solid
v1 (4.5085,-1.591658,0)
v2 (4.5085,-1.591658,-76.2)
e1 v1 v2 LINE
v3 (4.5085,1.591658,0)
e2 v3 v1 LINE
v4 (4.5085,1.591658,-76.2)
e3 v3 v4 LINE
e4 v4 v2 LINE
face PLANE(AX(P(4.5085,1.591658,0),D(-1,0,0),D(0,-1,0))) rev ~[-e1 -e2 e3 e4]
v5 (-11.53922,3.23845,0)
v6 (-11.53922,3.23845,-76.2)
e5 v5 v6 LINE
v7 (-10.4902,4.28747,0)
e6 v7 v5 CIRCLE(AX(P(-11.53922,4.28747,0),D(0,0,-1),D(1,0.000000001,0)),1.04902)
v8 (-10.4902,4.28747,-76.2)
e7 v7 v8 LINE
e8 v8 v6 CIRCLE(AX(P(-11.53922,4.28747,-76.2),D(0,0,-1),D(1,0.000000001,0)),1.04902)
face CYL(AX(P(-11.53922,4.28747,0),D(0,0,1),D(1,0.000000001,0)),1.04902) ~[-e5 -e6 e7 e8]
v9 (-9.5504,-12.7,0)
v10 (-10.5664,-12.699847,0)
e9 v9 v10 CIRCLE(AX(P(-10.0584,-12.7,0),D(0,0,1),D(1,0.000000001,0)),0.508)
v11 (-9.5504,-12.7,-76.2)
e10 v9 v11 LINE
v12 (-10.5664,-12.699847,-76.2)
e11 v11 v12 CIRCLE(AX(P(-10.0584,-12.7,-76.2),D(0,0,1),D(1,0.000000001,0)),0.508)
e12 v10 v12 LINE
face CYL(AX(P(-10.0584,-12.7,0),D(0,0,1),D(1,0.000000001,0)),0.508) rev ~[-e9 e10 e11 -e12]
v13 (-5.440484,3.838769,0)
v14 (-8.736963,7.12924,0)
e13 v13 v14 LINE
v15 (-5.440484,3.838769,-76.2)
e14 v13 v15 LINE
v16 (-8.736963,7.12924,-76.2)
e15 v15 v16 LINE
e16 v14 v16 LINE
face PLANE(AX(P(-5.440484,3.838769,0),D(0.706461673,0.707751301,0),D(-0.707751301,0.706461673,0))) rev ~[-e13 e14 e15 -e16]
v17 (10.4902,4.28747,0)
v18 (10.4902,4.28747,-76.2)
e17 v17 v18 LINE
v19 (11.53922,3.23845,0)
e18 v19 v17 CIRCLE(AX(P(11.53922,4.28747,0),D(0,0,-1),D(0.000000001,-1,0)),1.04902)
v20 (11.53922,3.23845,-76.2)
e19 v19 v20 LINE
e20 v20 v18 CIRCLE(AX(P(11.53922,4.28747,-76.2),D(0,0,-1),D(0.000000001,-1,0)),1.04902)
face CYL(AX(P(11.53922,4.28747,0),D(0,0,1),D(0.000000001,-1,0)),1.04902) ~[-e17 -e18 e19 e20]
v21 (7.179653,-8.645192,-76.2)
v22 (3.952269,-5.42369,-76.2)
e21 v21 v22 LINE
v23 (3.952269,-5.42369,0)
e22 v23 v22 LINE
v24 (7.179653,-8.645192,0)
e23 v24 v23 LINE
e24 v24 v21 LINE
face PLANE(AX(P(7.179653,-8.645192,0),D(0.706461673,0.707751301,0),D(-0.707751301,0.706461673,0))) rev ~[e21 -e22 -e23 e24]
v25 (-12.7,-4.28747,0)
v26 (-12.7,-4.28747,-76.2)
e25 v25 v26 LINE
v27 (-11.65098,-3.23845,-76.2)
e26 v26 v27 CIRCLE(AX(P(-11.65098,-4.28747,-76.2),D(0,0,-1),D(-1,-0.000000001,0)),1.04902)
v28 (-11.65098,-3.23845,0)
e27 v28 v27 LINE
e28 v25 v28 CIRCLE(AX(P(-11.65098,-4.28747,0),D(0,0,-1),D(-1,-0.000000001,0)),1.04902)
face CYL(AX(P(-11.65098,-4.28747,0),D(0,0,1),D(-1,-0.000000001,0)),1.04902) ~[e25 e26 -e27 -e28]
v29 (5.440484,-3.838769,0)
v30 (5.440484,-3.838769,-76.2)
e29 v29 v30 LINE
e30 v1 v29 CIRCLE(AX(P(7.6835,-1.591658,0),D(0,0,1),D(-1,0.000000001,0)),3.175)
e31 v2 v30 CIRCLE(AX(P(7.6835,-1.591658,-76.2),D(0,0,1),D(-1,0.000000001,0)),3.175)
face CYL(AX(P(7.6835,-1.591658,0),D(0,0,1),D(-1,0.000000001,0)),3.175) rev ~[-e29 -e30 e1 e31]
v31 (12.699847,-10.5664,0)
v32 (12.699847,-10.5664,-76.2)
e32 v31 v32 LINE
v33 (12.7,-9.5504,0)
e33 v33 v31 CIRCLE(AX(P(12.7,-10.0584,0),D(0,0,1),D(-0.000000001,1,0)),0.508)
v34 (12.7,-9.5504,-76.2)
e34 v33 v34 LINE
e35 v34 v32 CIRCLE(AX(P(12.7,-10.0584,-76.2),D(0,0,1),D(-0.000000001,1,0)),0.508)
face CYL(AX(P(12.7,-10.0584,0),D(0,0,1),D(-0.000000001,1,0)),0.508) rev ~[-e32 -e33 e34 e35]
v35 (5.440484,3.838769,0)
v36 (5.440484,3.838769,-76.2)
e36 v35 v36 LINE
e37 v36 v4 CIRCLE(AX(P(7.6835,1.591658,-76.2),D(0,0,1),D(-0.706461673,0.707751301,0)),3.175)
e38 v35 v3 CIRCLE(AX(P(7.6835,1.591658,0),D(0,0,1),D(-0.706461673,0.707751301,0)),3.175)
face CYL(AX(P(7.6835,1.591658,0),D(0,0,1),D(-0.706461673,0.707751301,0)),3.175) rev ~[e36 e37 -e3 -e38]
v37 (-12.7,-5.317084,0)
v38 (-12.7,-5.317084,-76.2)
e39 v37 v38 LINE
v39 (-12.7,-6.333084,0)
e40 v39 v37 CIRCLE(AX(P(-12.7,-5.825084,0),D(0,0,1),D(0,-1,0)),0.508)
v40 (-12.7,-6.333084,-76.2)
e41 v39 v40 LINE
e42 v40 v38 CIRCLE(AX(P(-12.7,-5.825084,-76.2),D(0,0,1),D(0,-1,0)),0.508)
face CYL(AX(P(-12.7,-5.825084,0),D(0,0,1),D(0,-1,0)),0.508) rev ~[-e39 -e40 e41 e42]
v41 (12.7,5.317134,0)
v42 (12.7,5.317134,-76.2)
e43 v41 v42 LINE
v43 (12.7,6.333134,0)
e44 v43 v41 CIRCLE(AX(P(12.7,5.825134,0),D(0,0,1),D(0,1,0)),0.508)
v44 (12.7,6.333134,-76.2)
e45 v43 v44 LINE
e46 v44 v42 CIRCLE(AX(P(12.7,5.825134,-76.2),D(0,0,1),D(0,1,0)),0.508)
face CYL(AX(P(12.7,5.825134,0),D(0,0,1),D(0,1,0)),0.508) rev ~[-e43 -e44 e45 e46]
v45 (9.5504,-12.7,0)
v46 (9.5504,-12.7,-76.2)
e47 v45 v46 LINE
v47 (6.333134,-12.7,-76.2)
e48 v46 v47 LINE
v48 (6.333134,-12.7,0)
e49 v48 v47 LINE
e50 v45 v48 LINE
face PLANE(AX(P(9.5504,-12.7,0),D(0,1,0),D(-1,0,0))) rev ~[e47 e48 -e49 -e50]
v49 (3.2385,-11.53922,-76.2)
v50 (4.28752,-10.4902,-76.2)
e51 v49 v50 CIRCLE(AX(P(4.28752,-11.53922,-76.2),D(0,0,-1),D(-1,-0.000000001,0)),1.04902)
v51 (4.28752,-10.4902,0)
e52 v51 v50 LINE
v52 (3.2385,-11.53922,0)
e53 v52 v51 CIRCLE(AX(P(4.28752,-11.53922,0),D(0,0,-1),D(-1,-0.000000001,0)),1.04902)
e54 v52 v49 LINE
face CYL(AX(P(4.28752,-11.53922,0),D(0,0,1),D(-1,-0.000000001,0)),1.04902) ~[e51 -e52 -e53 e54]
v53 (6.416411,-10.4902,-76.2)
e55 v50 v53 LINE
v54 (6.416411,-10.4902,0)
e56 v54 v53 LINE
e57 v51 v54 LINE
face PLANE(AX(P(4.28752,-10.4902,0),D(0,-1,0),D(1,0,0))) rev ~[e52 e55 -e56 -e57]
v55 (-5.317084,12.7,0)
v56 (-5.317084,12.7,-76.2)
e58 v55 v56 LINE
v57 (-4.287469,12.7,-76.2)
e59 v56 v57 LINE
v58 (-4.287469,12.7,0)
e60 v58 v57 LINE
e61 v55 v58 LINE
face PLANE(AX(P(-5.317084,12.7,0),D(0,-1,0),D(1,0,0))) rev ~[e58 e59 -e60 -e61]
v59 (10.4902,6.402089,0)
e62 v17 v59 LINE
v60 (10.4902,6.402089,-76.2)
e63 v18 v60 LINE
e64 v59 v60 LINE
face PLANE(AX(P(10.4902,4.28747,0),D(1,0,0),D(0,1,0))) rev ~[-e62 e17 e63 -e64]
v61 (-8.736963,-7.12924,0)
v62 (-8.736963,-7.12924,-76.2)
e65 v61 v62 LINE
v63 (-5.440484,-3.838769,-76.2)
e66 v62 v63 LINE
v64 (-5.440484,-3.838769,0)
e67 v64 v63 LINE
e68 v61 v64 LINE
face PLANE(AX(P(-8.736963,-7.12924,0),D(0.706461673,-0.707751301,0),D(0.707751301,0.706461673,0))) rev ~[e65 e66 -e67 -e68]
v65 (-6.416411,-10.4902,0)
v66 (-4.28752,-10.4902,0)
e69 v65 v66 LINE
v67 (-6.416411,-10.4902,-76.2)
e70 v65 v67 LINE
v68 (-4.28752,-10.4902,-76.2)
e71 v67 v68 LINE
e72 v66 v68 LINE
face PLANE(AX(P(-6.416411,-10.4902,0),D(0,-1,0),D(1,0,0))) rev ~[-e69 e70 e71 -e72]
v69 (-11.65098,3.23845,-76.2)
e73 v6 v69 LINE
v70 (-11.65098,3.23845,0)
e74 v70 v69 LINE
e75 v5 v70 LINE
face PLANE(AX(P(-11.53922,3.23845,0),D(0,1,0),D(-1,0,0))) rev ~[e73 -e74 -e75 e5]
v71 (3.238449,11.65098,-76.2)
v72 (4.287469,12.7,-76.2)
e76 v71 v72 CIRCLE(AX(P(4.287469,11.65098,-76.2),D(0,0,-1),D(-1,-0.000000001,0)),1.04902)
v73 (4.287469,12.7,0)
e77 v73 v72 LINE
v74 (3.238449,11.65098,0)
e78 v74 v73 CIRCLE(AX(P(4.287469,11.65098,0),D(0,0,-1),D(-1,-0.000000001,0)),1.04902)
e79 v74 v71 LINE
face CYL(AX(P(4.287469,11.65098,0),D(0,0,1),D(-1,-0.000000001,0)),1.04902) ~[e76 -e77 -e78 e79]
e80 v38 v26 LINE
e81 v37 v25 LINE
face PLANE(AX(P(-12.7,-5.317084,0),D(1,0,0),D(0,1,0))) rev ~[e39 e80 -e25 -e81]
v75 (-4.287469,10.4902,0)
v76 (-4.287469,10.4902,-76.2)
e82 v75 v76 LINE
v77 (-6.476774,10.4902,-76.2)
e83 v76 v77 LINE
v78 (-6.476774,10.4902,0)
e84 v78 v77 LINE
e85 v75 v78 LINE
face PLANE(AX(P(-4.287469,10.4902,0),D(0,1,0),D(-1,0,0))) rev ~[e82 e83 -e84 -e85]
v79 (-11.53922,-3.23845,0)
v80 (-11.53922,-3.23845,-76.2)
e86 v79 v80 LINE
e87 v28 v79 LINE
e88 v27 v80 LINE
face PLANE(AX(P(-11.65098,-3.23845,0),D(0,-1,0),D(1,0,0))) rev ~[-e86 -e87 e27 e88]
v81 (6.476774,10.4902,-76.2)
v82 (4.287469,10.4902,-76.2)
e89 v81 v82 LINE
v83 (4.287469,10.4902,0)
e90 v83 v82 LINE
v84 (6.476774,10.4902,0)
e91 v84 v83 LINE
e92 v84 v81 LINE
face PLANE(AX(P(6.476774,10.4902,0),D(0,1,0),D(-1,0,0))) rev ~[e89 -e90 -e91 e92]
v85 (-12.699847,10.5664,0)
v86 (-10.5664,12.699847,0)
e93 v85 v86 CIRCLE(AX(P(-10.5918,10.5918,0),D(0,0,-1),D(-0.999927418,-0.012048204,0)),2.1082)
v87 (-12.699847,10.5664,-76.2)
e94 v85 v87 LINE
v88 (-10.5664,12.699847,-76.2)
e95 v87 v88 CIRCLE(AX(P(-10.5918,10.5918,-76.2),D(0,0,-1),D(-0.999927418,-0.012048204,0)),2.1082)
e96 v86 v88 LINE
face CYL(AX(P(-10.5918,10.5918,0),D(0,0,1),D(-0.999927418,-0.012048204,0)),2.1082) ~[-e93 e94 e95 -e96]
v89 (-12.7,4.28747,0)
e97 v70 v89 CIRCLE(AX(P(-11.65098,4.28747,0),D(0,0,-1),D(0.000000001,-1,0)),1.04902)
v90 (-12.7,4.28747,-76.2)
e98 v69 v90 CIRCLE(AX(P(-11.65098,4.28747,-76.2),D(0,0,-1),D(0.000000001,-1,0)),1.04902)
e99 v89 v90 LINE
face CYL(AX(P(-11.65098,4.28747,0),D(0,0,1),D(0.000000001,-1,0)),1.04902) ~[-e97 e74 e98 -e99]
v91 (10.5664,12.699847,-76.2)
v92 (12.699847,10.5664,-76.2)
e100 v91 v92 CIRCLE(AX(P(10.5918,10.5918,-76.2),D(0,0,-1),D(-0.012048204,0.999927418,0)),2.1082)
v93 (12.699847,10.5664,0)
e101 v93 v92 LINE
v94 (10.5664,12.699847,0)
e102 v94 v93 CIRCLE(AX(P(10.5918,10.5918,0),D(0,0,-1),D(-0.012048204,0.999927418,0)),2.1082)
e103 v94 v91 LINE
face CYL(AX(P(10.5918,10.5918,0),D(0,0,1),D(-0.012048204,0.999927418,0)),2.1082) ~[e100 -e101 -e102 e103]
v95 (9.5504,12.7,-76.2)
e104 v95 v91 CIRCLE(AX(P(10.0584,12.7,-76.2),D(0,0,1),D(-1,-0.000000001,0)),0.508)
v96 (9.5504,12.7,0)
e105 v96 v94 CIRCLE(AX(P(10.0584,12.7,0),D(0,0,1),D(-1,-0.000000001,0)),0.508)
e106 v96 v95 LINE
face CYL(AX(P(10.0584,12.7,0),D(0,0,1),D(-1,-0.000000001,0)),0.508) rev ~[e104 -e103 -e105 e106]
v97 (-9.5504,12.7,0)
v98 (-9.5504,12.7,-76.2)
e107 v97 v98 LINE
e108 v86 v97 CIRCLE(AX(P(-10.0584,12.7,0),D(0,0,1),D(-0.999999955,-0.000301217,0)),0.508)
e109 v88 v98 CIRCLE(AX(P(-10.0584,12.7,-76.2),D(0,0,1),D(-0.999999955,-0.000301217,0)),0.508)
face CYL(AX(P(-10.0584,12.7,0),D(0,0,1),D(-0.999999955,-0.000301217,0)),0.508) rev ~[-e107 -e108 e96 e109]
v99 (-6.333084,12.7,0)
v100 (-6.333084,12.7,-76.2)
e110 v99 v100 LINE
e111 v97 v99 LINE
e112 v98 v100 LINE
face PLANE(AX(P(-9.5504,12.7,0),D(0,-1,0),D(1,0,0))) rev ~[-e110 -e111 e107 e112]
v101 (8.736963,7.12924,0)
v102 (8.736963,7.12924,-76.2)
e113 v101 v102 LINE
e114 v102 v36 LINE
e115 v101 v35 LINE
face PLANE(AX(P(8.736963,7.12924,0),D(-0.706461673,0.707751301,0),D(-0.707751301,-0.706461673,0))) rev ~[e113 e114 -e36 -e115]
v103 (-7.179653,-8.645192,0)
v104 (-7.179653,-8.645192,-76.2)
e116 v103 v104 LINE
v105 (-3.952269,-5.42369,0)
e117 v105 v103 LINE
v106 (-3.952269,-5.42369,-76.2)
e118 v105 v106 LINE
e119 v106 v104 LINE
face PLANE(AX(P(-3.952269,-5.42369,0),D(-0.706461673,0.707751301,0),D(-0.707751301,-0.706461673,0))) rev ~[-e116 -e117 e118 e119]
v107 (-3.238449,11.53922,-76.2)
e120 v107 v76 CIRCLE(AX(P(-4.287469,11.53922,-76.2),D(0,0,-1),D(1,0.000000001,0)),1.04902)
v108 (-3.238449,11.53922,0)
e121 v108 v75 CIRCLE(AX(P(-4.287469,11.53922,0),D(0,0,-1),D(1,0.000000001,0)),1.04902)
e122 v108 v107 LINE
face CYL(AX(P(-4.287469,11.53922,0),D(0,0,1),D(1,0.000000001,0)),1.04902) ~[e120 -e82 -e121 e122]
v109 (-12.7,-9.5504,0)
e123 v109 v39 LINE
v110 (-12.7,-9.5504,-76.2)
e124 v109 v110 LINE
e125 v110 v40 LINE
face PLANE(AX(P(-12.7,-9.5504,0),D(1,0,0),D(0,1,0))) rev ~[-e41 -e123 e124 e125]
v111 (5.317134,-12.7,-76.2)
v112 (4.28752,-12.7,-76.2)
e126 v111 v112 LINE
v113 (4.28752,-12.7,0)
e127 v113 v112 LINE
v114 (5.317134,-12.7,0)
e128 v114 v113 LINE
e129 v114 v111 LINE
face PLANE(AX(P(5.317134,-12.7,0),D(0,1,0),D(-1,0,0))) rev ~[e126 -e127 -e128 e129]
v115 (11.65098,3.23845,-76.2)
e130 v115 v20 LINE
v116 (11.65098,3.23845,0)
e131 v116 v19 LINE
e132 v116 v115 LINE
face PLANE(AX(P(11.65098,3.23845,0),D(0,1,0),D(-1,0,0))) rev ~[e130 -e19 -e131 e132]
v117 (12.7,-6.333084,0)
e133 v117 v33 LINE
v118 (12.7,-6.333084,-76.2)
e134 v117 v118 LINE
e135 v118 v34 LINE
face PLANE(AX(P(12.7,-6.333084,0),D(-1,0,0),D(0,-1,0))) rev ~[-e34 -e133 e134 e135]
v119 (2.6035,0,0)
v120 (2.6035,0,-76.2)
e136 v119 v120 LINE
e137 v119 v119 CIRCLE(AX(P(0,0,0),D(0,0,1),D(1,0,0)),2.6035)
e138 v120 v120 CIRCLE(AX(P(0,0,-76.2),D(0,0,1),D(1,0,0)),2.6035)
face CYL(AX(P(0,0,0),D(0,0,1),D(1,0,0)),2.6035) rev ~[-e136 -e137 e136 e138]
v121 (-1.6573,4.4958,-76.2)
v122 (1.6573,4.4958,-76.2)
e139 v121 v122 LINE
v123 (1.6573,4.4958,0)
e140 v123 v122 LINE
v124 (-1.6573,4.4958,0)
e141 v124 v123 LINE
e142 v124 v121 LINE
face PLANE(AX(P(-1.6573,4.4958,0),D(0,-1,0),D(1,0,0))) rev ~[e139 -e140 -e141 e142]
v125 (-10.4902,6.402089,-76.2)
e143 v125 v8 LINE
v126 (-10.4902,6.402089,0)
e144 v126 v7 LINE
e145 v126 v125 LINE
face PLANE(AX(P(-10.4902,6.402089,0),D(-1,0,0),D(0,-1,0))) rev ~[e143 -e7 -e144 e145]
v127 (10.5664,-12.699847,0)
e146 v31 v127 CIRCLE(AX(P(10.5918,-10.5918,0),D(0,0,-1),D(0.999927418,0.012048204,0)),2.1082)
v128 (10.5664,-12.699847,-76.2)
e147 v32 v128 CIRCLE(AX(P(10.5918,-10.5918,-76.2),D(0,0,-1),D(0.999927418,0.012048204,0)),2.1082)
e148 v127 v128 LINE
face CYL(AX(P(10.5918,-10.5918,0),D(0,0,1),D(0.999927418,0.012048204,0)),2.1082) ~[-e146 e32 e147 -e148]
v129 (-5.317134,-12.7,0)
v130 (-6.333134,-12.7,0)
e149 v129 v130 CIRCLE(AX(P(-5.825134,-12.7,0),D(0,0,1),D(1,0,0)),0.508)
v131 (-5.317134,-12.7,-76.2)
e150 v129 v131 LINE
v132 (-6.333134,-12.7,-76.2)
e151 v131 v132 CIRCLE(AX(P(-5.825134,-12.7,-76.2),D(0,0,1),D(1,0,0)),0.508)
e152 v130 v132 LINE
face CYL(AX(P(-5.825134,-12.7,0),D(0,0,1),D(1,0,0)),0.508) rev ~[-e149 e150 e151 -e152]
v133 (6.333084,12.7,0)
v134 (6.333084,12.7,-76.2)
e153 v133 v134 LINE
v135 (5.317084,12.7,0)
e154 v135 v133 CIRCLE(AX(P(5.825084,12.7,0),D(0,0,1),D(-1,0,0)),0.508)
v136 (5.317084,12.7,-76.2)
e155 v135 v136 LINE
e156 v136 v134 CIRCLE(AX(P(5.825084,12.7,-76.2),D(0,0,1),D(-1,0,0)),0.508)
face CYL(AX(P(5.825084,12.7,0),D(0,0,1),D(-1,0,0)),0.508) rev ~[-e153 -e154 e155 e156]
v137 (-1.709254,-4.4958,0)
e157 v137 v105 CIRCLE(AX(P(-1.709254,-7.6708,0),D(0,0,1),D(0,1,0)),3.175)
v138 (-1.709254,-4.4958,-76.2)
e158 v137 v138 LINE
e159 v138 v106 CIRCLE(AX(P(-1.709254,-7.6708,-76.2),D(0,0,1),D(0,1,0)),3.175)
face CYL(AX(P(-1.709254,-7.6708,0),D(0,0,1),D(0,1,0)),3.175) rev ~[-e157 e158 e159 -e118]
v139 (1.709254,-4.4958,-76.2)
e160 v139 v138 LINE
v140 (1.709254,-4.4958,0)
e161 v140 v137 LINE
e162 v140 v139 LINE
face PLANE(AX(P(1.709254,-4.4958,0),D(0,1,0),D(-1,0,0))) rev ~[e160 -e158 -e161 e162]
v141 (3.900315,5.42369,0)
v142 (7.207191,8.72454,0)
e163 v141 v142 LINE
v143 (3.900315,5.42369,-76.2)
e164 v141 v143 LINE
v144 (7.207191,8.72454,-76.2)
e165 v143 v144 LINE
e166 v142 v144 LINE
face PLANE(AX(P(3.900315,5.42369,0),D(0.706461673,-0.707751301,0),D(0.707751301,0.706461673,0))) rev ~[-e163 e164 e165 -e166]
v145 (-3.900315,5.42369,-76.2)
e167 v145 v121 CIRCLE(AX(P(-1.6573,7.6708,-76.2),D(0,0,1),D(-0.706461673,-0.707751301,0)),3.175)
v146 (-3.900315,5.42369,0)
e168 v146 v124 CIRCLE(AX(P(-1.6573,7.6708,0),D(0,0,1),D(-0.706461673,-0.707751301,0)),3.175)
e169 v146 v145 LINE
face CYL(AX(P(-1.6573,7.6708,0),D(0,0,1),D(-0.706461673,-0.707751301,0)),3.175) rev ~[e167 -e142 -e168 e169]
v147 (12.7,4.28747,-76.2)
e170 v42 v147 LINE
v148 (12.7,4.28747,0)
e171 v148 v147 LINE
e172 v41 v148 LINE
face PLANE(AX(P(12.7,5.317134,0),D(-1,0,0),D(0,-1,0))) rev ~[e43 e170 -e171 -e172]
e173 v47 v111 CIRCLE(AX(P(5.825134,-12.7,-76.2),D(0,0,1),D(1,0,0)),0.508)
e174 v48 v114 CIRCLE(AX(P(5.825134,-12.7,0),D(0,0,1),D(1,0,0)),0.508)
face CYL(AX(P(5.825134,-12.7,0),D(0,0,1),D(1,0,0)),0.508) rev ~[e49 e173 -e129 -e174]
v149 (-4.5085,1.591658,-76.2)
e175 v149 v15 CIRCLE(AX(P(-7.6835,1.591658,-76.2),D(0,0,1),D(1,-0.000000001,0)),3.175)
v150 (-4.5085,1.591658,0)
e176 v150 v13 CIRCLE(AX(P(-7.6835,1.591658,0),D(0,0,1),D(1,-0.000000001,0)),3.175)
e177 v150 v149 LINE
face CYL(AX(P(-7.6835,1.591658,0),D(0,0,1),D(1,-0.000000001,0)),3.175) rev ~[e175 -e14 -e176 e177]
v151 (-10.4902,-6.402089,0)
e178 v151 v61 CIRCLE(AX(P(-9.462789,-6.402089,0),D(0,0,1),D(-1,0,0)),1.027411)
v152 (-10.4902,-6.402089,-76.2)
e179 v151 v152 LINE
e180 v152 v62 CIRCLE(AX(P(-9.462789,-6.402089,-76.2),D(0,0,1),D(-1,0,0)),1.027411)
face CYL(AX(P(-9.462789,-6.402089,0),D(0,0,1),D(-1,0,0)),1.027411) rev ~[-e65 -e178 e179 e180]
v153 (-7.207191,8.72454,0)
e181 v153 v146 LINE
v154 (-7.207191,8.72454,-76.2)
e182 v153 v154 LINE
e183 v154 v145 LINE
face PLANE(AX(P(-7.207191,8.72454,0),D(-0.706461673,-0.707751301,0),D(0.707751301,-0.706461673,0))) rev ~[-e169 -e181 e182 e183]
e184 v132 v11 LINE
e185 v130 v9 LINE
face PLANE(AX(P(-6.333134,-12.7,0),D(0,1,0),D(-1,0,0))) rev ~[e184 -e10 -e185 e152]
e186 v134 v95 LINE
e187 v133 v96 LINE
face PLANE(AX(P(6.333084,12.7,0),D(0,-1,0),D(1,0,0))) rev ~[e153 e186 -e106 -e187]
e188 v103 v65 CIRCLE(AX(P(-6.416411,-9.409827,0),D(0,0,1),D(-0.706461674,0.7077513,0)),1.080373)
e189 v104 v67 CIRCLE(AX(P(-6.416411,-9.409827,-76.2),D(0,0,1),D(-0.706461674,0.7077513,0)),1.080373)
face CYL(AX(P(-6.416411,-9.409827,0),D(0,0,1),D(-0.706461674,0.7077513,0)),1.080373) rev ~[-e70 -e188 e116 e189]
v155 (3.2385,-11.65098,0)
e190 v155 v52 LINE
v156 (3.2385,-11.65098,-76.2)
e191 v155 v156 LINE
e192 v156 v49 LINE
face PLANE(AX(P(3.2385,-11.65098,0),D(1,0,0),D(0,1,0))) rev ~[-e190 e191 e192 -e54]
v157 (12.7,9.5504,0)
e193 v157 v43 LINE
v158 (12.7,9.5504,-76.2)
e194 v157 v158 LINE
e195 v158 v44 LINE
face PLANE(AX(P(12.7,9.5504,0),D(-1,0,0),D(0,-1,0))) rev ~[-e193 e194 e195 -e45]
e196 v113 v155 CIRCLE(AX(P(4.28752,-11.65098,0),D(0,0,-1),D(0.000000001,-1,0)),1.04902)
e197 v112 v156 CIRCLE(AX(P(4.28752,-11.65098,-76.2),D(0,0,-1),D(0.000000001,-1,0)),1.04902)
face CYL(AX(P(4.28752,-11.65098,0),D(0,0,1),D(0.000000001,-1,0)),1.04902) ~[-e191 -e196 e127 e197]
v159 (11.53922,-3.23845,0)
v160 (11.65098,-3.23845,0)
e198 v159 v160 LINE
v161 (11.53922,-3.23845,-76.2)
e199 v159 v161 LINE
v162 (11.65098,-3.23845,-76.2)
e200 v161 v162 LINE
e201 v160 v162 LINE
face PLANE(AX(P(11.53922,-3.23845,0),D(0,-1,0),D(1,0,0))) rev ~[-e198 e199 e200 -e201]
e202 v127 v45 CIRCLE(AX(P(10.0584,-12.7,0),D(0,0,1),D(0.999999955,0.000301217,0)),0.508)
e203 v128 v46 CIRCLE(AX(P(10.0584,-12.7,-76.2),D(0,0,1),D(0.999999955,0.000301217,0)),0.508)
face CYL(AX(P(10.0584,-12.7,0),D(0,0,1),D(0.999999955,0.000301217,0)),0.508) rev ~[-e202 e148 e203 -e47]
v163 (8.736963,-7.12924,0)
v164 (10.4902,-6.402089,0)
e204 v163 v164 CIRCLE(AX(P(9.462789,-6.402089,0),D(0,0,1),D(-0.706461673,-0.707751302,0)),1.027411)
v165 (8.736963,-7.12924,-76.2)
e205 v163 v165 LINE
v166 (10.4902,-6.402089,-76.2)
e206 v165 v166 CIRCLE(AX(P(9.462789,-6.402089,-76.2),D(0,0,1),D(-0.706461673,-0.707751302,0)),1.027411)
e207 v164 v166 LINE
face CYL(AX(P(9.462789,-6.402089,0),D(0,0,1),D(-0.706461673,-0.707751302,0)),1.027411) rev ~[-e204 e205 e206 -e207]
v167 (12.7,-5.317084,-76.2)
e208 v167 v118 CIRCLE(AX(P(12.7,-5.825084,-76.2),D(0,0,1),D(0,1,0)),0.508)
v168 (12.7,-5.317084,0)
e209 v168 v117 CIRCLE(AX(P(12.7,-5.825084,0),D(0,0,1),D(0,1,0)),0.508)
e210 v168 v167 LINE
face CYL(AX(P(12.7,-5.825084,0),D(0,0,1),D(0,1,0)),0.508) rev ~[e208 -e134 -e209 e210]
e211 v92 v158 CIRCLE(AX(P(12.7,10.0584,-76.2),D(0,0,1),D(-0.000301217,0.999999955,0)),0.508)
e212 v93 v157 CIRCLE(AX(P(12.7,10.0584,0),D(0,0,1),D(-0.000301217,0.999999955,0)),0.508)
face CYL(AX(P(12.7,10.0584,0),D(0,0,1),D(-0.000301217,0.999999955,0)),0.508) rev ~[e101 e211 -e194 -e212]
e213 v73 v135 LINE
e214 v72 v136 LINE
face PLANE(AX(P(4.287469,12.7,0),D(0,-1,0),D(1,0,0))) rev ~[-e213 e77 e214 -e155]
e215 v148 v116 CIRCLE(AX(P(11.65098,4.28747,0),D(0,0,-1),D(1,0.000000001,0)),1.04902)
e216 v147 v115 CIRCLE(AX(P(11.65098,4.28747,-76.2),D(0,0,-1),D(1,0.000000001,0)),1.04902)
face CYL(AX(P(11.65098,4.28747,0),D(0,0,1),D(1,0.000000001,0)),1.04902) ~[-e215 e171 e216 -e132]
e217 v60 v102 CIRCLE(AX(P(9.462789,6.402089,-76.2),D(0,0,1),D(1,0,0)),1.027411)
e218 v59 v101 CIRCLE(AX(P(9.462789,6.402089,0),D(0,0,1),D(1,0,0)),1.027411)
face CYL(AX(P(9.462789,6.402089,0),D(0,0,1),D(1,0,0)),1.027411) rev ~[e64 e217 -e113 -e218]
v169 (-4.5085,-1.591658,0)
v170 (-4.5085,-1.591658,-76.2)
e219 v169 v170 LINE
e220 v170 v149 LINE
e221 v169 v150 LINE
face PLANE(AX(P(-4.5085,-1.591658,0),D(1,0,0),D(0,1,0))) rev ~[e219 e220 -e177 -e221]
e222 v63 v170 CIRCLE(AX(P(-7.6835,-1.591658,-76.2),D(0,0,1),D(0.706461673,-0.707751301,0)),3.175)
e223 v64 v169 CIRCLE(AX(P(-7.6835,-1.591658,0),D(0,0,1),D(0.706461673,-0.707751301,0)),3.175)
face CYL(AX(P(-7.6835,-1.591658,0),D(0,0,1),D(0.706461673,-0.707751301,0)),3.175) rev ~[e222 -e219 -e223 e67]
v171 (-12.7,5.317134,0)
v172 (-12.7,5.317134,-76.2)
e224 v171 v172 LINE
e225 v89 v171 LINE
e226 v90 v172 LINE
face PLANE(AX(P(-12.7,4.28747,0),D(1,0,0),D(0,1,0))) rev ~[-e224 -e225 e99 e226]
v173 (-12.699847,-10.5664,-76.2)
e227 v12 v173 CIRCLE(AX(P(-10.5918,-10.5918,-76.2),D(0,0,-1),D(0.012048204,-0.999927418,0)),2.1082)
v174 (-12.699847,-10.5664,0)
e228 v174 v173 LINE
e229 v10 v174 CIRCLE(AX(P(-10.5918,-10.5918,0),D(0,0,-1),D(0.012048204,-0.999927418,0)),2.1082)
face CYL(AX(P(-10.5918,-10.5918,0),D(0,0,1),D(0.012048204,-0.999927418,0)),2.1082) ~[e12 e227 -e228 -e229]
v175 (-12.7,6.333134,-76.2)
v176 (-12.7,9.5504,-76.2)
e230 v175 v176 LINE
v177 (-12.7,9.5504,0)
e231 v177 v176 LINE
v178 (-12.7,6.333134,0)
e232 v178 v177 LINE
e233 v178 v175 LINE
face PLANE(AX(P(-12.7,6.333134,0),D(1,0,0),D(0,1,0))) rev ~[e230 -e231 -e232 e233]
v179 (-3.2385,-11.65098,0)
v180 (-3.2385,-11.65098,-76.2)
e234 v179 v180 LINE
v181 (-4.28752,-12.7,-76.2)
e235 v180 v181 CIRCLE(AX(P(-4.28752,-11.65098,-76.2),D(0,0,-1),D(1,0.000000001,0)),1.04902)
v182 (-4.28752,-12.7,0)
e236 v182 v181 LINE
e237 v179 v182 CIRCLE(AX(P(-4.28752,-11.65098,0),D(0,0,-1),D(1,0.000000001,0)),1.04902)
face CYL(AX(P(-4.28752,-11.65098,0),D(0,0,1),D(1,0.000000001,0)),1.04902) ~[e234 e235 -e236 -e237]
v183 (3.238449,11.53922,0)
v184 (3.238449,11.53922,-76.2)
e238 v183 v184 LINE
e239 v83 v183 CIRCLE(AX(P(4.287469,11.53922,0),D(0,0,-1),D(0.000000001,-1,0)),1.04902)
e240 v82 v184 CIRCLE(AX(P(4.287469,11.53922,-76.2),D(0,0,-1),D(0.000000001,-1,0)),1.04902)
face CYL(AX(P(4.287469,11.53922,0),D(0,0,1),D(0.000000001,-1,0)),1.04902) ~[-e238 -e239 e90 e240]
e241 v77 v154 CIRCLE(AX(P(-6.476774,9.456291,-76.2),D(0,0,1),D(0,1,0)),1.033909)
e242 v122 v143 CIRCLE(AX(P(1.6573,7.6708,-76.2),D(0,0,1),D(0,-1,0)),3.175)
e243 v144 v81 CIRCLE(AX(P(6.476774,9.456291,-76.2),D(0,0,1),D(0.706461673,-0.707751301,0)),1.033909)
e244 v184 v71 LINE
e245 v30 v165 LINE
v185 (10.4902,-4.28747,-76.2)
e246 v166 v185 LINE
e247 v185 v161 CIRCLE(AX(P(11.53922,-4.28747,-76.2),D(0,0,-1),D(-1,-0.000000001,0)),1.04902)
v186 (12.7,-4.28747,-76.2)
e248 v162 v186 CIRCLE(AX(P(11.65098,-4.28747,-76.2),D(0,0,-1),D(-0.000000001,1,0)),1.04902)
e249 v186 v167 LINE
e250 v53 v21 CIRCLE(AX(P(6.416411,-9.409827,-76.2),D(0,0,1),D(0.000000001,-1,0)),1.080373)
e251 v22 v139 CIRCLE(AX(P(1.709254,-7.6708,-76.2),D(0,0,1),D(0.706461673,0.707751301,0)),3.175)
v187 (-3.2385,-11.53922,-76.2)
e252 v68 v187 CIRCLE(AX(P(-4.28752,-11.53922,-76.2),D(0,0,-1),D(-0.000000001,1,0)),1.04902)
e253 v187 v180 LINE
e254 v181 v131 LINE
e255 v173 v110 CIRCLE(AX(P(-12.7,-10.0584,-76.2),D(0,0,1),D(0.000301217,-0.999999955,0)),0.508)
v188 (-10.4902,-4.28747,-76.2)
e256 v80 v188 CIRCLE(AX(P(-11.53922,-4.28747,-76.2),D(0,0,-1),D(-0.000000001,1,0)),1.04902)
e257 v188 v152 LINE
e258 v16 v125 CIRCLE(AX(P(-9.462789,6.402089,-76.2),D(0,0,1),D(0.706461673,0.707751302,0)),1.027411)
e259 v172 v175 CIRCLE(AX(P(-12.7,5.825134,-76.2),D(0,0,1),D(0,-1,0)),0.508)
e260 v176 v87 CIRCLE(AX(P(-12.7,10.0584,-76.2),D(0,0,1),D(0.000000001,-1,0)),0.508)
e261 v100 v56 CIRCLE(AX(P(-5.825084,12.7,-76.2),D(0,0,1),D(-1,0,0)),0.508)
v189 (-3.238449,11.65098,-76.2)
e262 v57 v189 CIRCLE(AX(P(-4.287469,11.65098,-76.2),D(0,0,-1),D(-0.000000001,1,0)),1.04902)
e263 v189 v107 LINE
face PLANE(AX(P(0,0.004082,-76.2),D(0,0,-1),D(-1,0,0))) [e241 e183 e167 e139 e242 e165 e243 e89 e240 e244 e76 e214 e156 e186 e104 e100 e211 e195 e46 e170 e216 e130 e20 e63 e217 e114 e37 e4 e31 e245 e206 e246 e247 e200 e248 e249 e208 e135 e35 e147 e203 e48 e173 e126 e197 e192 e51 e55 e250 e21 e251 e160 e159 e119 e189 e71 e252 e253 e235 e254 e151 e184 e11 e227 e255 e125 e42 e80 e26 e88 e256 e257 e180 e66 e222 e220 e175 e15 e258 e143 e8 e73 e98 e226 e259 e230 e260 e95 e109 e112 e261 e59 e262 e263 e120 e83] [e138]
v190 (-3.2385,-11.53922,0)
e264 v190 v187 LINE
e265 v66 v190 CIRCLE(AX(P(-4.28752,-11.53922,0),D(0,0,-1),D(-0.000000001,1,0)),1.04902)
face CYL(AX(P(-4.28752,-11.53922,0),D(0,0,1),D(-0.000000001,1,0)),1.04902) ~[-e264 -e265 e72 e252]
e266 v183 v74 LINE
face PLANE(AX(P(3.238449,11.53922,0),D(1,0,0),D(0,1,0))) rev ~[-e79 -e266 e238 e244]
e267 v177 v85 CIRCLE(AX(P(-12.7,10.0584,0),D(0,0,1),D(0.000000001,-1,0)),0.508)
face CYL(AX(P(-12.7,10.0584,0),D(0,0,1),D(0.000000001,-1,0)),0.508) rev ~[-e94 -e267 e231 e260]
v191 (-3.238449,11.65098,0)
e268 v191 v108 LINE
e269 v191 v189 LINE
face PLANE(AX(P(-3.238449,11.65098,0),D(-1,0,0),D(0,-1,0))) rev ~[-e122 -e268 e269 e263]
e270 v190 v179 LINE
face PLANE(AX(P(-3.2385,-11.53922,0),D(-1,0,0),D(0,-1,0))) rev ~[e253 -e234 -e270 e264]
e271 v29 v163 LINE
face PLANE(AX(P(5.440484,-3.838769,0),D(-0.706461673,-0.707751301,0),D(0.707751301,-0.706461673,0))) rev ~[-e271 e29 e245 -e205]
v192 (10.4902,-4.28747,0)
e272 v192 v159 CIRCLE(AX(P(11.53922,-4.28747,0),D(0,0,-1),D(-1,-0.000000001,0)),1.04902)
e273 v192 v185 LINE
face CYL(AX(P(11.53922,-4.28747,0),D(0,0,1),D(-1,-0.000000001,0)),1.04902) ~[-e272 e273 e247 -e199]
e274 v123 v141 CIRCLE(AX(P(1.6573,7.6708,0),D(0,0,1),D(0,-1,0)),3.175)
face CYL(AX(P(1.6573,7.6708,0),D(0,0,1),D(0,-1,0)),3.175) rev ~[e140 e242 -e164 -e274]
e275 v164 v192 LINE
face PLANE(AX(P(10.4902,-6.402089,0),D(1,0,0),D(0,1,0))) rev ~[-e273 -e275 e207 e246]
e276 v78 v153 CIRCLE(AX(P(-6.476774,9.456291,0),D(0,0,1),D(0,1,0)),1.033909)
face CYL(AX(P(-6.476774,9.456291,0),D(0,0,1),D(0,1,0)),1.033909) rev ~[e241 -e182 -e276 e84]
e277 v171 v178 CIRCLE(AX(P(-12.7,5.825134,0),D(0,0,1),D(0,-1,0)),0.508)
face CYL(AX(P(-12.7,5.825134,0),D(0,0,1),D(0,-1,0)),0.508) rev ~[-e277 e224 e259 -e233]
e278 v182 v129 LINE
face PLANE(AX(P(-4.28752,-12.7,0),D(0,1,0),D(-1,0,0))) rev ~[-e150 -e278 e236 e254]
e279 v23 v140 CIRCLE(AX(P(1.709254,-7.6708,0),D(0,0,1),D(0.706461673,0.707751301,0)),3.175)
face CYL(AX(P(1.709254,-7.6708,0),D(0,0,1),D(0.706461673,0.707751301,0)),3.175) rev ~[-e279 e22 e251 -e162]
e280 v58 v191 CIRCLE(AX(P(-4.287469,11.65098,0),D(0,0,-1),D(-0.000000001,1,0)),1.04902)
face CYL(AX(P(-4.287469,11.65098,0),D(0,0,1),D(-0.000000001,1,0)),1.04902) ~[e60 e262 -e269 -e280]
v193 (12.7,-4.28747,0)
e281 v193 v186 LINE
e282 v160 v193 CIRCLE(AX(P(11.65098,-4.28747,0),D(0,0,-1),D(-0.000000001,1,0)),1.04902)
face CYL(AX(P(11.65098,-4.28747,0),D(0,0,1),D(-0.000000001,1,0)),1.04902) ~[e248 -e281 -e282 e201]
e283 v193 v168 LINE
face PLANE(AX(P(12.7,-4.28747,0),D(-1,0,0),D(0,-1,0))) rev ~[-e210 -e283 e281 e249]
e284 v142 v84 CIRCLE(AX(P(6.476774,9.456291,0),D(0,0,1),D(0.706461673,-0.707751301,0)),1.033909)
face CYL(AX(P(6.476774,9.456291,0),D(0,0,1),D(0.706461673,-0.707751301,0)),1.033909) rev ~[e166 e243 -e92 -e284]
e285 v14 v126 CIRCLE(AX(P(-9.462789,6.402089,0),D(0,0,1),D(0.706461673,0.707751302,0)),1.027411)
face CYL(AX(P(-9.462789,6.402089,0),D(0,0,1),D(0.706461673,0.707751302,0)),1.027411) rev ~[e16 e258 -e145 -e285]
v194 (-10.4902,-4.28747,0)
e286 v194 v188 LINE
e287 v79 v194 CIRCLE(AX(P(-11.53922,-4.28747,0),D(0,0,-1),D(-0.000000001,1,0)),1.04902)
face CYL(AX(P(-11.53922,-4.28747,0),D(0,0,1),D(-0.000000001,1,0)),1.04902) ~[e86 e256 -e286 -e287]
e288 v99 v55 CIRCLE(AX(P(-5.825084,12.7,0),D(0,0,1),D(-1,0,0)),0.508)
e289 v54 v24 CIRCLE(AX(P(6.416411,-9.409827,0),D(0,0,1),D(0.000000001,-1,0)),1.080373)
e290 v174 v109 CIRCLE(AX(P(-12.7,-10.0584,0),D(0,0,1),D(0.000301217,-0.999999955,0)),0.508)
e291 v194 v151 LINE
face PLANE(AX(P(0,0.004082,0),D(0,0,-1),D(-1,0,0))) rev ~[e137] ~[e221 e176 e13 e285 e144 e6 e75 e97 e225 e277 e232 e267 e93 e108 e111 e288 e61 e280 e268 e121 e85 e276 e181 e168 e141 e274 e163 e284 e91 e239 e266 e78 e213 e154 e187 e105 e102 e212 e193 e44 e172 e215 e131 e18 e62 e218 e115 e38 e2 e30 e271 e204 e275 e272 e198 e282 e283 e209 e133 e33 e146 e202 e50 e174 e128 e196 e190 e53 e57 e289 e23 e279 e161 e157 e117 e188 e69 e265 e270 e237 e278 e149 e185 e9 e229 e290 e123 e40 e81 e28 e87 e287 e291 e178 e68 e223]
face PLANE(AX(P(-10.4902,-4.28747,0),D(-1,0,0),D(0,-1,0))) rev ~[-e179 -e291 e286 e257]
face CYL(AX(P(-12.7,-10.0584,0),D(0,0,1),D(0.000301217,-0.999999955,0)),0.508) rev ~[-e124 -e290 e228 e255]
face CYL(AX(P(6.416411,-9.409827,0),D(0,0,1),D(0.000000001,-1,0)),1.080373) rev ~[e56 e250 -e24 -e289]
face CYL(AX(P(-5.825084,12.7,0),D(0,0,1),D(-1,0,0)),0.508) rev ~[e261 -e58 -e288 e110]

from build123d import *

# Parameters (mm, degrees)
SKETCH1_R      = 2.6035
EXTRUDE1_DEPTH = 76.2


with BuildPart() as part:
    # Sketch1 → Extrude1 (new body)
    with BuildSketch(Plane.XY):
        with BuildLine():
            Line((-7.207191475, 8.724540082), (-3.900315394, 5.423689619))
            ThreePointArc((-3.900315394, 5.423689619), (-2.8709819, 4.736928798), (-1.657299581, 4.4958))
            Line((-1.657299581, 4.4958), (1.657299581, 4.4958))
            ThreePointArc((1.657299581, 4.4958), (2.8709819, 4.736928798), (3.900315394, 5.423689619))
            Line((3.900315394, 5.423689619), (7.207191475, 8.724540082))
            ThreePointArc((7.207191475, 8.724540082), (7.43216212, 9.851515102), (6.476774195, 10.4902))
            Line((6.476774195, 10.4902), (4.2874692, 10.4902))
            ThreePointArc((4.2874692, 10.4902), (3.545700044, 10.797450844), (3.2384492, 11.53922))
            Line((3.2384492, 11.53922), (3.2384492, 11.65098))
            ThreePointArc((3.2384492, 11.65098), (3.545700044, 12.392749156), (4.2874692, 12.7))
            Line((4.2874692, 12.7), (5.3170836, 12.7))
            ThreePointArc((5.3170836, 12.7), (5.8250836, 12.192), (6.3330836, 12.7))
            Line((6.3330836, 12.7), (9.5504, 12.7))
            ThreePointArc((9.5504, 12.7), (10.058323491, 12.192000006), (10.566399977, 12.699846982))
            ThreePointArc((10.566399977, 12.699846982), (12.082522516, 12.082522516), (12.699846982, 10.566399977))
            ThreePointArc((12.699846982, 10.566399977), (12.192000006, 10.058323491), (12.7, 9.5504))
            Line((12.7, 9.5504), (12.7, 6.3331344))
            ThreePointArc((12.7, 6.3331344), (12.192, 5.8251344), (12.7, 5.3171344))
            Line((12.7, 5.3171344), (12.7, 4.287470133))
            ThreePointArc((12.7, 4.287470133), (12.392749156, 3.545700977), (11.65098, 3.238450133))
            Line((11.65098, 3.238450133), (11.53922, 3.238450133))
            ThreePointArc((11.53922, 3.238450133), (10.797450844, 3.545700977), (10.4902, 4.287470133))
            Line((10.4902, 4.287470133), (10.4902, 6.402089023))
            ThreePointArc((10.4902, 6.402089023), (9.856394933, 7.351113629), (8.736962546, 7.129240479))
            Line((8.736962546, 7.129240479), (5.440484187, 3.838768792))
            ThreePointArc((5.440484187, 3.838768792), (4.75073678, 2.808015636), (4.5085, 1.591658411))
            Line((4.5085, 1.591658411), (4.5085, -1.591658411))
            ThreePointArc((4.5085, -1.591658411), (4.75073678, -2.808015636), (5.440484187, -3.838768792))
            Line((5.440484187, -3.838768792), (8.736962546, -7.129240479))
            ThreePointArc((8.736962546, -7.129240479), (9.856394933, -7.351113629), (10.4902, -6.402089023))
            Line((10.4902, -6.402089023), (10.4902, -4.287470133))
            ThreePointArc((10.4902, -4.287470133), (10.797450844, -3.545700977), (11.53922, -3.238450133))
            Line((11.53922, -3.238450133), (11.65098, -3.238450133))
            ThreePointArc((11.65098, -3.238450133), (12.392749156, -3.545700977), (12.7, -4.287470133))
            Line((12.7, -4.287470133), (12.7, -5.3170836))
            ThreePointArc((12.7, -5.3170836), (12.192, -5.8250836), (12.7, -6.3330836))
            Line((12.7, -6.3330836), (12.7, -9.5504))
            ThreePointArc((12.7, -9.5504), (12.192000006, -10.058323491), (12.699846982, -10.566399977))
            ThreePointArc((12.699846982, -10.566399977), (12.082522516, -12.082522516), (10.566399977, -12.699846982))
            ThreePointArc((10.566399977, -12.699846982), (10.058323491, -12.192000006), (9.5504, -12.7))
            Line((9.5504, -12.7), (6.3331344, -12.7))
            ThreePointArc((6.3331344, -12.7), (5.8251344, -12.192), (5.3171344, -12.7))
            Line((5.3171344, -12.7), (4.28752, -12.7))
            ThreePointArc((4.28752, -12.7), (3.545750844, -12.392749156), (3.2385, -11.65098))
            Line((3.2385, -11.65098), (3.2385, -11.53922))
            ThreePointArc((3.2385, -11.53922), (3.545750844, -10.797450844), (4.28752, -10.4902))
            Line((4.28752, -10.4902), (6.41641086, -10.4902))
            ThreePointArc((6.41641086, -10.4902), (7.414733441, -9.822812921), (7.179652728, -8.645192207))
            Line((7.179652728, -8.645192207), (3.95226937, -5.423689619))
            ThreePointArc((3.95226937, -5.423689619), (2.922935876, -4.736928798), (1.709253557, -4.4958))
            Line((1.709253557, -4.4958), (-1.709253557, -4.4958))
            ThreePointArc((-1.709253557, -4.4958), (-2.922935876, -4.736928798), (-3.95226937, -5.423689619))
            Line((-3.95226937, -5.423689619), (-7.179652728, -8.645192207))
            ThreePointArc((-7.179652728, -8.645192207), (-7.414733441, -9.822812921), (-6.41641086, -10.4902))
            Line((-6.41641086, -10.4902), (-4.28752, -10.4902))
            ThreePointArc((-4.28752, -10.4902), (-3.545750844, -10.797450844), (-3.2385, -11.53922))
            Line((-3.2385, -11.53922), (-3.2385, -11.65098))
            ThreePointArc((-3.2385, -11.65098), (-3.545750844, -12.392749156), (-4.28752, -12.7))
            Line((-4.28752, -12.7), (-5.3171344, -12.7))
            ThreePointArc((-5.3171344, -12.7), (-5.8251344, -12.192), (-6.3331344, -12.7))
            Line((-6.3331344, -12.7), (-9.5504, -12.7))
            ThreePointArc((-9.5504, -12.7), (-10.058323491, -12.192000006), (-10.566399977, -12.699846982))
            ThreePointArc((-10.566399977, -12.699846982), (-12.082522516, -12.082522516), (-12.699846982, -10.566399977))
            ThreePointArc((-12.699846982, -10.566399977), (-12.192000006, -10.058323491), (-12.7, -9.5504))
            Line((-12.7, -9.5504), (-12.7, -6.3330836))
            ThreePointArc((-12.7, -6.3330836), (-12.192, -5.8250836), (-12.7, -5.3170836))
            Line((-12.7, -5.3170836), (-12.7, -4.287470133))
            ThreePointArc((-12.7, -4.287470133), (-12.392749156, -3.545700977), (-11.65098, -3.238450133))
            Line((-11.65098, -3.238450133), (-11.53922, -3.238450133))
            ThreePointArc((-11.53922, -3.238450133), (-10.797450844, -3.545700977), (-10.4902, -4.287470133))
            Line((-10.4902, -4.287470133), (-10.4902, -6.402089023))
            ThreePointArc((-10.4902, -6.402089023), (-9.856394933, -7.351113629), (-8.736962546, -7.129240479))
            Line((-8.736962546, -7.129240479), (-5.440484187, -3.838768792))
            ThreePointArc((-5.440484187, -3.838768792), (-4.75073678, -2.808015636), (-4.5085, -1.591658411))
            Line((-4.5085, -1.591658411), (-4.5085, 1.591658411))
            ThreePointArc((-4.5085, 1.591658411), (-4.75073678, 2.808015636), (-5.440484187, 3.838768792))
            Line((-5.440484187, 3.838768792), (-8.736962546, 7.129240479))
            ThreePointArc((-8.736962546, 7.129240479), (-9.856394933, 7.351113629), (-10.4902, 6.402089023))
            Line((-10.4902, 6.402089023), (-10.4902, 4.287470133))
            ThreePointArc((-10.4902, 4.287470133), (-10.797450844, 3.545700977), (-11.53922, 3.238450133))
            Line((-11.53922, 3.238450133), (-11.65098, 3.238450133))
            ThreePointArc((-11.65098, 3.238450133), (-12.392749156, 3.545700977), (-12.7, 4.287470133))
            Line((-12.7, 4.287470133), (-12.7, 5.3171344))
            ThreePointArc((-12.7, 5.3171344), (-12.192, 5.8251344), (-12.7, 6.3331344))
            Line((-12.7, 6.3331344), (-12.7, 9.5504))
            ThreePointArc((-12.7, 9.5504), (-12.192000006, 10.058323491), (-12.699846982, 10.566399977))
            ThreePointArc((-12.699846982, 10.566399977), (-12.082522516, 12.082522516), (-10.566399977, 12.699846982))
            ThreePointArc((-10.566399977, 12.699846982), (-10.058323491, 12.192000006), (-9.5504, 12.7))
            Line((-9.5504, 12.7), (-6.3330836, 12.7))
            ThreePointArc((-6.3330836, 12.7), (-5.8250836, 12.192), (-5.3170836, 12.7))
            Line((-5.3170836, 12.7), (-4.2874692, 12.7))
            ThreePointArc((-4.2874692, 12.7), (-3.545700044, 12.392749156), (-3.2384492, 11.65098))
            Line((-3.2384492, 11.65098), (-3.2384492, 11.53922))
            ThreePointArc((-3.2384492, 11.53922), (-3.545700044, 10.797450844), (-4.2874692, 10.4902))
            Line((-4.2874692, 10.4902), (-6.476774195, 10.4902))
            ThreePointArc((-6.476774195, 10.4902), (-7.43216212, 9.851515102), (-7.207191475, 8.724540082))
        make_face()
        Circle(SKETCH1_R, mode=Mode.SUBTRACT)
    extrude(amount=-EXTRUDE1_DEPTH)


solid = part.part
